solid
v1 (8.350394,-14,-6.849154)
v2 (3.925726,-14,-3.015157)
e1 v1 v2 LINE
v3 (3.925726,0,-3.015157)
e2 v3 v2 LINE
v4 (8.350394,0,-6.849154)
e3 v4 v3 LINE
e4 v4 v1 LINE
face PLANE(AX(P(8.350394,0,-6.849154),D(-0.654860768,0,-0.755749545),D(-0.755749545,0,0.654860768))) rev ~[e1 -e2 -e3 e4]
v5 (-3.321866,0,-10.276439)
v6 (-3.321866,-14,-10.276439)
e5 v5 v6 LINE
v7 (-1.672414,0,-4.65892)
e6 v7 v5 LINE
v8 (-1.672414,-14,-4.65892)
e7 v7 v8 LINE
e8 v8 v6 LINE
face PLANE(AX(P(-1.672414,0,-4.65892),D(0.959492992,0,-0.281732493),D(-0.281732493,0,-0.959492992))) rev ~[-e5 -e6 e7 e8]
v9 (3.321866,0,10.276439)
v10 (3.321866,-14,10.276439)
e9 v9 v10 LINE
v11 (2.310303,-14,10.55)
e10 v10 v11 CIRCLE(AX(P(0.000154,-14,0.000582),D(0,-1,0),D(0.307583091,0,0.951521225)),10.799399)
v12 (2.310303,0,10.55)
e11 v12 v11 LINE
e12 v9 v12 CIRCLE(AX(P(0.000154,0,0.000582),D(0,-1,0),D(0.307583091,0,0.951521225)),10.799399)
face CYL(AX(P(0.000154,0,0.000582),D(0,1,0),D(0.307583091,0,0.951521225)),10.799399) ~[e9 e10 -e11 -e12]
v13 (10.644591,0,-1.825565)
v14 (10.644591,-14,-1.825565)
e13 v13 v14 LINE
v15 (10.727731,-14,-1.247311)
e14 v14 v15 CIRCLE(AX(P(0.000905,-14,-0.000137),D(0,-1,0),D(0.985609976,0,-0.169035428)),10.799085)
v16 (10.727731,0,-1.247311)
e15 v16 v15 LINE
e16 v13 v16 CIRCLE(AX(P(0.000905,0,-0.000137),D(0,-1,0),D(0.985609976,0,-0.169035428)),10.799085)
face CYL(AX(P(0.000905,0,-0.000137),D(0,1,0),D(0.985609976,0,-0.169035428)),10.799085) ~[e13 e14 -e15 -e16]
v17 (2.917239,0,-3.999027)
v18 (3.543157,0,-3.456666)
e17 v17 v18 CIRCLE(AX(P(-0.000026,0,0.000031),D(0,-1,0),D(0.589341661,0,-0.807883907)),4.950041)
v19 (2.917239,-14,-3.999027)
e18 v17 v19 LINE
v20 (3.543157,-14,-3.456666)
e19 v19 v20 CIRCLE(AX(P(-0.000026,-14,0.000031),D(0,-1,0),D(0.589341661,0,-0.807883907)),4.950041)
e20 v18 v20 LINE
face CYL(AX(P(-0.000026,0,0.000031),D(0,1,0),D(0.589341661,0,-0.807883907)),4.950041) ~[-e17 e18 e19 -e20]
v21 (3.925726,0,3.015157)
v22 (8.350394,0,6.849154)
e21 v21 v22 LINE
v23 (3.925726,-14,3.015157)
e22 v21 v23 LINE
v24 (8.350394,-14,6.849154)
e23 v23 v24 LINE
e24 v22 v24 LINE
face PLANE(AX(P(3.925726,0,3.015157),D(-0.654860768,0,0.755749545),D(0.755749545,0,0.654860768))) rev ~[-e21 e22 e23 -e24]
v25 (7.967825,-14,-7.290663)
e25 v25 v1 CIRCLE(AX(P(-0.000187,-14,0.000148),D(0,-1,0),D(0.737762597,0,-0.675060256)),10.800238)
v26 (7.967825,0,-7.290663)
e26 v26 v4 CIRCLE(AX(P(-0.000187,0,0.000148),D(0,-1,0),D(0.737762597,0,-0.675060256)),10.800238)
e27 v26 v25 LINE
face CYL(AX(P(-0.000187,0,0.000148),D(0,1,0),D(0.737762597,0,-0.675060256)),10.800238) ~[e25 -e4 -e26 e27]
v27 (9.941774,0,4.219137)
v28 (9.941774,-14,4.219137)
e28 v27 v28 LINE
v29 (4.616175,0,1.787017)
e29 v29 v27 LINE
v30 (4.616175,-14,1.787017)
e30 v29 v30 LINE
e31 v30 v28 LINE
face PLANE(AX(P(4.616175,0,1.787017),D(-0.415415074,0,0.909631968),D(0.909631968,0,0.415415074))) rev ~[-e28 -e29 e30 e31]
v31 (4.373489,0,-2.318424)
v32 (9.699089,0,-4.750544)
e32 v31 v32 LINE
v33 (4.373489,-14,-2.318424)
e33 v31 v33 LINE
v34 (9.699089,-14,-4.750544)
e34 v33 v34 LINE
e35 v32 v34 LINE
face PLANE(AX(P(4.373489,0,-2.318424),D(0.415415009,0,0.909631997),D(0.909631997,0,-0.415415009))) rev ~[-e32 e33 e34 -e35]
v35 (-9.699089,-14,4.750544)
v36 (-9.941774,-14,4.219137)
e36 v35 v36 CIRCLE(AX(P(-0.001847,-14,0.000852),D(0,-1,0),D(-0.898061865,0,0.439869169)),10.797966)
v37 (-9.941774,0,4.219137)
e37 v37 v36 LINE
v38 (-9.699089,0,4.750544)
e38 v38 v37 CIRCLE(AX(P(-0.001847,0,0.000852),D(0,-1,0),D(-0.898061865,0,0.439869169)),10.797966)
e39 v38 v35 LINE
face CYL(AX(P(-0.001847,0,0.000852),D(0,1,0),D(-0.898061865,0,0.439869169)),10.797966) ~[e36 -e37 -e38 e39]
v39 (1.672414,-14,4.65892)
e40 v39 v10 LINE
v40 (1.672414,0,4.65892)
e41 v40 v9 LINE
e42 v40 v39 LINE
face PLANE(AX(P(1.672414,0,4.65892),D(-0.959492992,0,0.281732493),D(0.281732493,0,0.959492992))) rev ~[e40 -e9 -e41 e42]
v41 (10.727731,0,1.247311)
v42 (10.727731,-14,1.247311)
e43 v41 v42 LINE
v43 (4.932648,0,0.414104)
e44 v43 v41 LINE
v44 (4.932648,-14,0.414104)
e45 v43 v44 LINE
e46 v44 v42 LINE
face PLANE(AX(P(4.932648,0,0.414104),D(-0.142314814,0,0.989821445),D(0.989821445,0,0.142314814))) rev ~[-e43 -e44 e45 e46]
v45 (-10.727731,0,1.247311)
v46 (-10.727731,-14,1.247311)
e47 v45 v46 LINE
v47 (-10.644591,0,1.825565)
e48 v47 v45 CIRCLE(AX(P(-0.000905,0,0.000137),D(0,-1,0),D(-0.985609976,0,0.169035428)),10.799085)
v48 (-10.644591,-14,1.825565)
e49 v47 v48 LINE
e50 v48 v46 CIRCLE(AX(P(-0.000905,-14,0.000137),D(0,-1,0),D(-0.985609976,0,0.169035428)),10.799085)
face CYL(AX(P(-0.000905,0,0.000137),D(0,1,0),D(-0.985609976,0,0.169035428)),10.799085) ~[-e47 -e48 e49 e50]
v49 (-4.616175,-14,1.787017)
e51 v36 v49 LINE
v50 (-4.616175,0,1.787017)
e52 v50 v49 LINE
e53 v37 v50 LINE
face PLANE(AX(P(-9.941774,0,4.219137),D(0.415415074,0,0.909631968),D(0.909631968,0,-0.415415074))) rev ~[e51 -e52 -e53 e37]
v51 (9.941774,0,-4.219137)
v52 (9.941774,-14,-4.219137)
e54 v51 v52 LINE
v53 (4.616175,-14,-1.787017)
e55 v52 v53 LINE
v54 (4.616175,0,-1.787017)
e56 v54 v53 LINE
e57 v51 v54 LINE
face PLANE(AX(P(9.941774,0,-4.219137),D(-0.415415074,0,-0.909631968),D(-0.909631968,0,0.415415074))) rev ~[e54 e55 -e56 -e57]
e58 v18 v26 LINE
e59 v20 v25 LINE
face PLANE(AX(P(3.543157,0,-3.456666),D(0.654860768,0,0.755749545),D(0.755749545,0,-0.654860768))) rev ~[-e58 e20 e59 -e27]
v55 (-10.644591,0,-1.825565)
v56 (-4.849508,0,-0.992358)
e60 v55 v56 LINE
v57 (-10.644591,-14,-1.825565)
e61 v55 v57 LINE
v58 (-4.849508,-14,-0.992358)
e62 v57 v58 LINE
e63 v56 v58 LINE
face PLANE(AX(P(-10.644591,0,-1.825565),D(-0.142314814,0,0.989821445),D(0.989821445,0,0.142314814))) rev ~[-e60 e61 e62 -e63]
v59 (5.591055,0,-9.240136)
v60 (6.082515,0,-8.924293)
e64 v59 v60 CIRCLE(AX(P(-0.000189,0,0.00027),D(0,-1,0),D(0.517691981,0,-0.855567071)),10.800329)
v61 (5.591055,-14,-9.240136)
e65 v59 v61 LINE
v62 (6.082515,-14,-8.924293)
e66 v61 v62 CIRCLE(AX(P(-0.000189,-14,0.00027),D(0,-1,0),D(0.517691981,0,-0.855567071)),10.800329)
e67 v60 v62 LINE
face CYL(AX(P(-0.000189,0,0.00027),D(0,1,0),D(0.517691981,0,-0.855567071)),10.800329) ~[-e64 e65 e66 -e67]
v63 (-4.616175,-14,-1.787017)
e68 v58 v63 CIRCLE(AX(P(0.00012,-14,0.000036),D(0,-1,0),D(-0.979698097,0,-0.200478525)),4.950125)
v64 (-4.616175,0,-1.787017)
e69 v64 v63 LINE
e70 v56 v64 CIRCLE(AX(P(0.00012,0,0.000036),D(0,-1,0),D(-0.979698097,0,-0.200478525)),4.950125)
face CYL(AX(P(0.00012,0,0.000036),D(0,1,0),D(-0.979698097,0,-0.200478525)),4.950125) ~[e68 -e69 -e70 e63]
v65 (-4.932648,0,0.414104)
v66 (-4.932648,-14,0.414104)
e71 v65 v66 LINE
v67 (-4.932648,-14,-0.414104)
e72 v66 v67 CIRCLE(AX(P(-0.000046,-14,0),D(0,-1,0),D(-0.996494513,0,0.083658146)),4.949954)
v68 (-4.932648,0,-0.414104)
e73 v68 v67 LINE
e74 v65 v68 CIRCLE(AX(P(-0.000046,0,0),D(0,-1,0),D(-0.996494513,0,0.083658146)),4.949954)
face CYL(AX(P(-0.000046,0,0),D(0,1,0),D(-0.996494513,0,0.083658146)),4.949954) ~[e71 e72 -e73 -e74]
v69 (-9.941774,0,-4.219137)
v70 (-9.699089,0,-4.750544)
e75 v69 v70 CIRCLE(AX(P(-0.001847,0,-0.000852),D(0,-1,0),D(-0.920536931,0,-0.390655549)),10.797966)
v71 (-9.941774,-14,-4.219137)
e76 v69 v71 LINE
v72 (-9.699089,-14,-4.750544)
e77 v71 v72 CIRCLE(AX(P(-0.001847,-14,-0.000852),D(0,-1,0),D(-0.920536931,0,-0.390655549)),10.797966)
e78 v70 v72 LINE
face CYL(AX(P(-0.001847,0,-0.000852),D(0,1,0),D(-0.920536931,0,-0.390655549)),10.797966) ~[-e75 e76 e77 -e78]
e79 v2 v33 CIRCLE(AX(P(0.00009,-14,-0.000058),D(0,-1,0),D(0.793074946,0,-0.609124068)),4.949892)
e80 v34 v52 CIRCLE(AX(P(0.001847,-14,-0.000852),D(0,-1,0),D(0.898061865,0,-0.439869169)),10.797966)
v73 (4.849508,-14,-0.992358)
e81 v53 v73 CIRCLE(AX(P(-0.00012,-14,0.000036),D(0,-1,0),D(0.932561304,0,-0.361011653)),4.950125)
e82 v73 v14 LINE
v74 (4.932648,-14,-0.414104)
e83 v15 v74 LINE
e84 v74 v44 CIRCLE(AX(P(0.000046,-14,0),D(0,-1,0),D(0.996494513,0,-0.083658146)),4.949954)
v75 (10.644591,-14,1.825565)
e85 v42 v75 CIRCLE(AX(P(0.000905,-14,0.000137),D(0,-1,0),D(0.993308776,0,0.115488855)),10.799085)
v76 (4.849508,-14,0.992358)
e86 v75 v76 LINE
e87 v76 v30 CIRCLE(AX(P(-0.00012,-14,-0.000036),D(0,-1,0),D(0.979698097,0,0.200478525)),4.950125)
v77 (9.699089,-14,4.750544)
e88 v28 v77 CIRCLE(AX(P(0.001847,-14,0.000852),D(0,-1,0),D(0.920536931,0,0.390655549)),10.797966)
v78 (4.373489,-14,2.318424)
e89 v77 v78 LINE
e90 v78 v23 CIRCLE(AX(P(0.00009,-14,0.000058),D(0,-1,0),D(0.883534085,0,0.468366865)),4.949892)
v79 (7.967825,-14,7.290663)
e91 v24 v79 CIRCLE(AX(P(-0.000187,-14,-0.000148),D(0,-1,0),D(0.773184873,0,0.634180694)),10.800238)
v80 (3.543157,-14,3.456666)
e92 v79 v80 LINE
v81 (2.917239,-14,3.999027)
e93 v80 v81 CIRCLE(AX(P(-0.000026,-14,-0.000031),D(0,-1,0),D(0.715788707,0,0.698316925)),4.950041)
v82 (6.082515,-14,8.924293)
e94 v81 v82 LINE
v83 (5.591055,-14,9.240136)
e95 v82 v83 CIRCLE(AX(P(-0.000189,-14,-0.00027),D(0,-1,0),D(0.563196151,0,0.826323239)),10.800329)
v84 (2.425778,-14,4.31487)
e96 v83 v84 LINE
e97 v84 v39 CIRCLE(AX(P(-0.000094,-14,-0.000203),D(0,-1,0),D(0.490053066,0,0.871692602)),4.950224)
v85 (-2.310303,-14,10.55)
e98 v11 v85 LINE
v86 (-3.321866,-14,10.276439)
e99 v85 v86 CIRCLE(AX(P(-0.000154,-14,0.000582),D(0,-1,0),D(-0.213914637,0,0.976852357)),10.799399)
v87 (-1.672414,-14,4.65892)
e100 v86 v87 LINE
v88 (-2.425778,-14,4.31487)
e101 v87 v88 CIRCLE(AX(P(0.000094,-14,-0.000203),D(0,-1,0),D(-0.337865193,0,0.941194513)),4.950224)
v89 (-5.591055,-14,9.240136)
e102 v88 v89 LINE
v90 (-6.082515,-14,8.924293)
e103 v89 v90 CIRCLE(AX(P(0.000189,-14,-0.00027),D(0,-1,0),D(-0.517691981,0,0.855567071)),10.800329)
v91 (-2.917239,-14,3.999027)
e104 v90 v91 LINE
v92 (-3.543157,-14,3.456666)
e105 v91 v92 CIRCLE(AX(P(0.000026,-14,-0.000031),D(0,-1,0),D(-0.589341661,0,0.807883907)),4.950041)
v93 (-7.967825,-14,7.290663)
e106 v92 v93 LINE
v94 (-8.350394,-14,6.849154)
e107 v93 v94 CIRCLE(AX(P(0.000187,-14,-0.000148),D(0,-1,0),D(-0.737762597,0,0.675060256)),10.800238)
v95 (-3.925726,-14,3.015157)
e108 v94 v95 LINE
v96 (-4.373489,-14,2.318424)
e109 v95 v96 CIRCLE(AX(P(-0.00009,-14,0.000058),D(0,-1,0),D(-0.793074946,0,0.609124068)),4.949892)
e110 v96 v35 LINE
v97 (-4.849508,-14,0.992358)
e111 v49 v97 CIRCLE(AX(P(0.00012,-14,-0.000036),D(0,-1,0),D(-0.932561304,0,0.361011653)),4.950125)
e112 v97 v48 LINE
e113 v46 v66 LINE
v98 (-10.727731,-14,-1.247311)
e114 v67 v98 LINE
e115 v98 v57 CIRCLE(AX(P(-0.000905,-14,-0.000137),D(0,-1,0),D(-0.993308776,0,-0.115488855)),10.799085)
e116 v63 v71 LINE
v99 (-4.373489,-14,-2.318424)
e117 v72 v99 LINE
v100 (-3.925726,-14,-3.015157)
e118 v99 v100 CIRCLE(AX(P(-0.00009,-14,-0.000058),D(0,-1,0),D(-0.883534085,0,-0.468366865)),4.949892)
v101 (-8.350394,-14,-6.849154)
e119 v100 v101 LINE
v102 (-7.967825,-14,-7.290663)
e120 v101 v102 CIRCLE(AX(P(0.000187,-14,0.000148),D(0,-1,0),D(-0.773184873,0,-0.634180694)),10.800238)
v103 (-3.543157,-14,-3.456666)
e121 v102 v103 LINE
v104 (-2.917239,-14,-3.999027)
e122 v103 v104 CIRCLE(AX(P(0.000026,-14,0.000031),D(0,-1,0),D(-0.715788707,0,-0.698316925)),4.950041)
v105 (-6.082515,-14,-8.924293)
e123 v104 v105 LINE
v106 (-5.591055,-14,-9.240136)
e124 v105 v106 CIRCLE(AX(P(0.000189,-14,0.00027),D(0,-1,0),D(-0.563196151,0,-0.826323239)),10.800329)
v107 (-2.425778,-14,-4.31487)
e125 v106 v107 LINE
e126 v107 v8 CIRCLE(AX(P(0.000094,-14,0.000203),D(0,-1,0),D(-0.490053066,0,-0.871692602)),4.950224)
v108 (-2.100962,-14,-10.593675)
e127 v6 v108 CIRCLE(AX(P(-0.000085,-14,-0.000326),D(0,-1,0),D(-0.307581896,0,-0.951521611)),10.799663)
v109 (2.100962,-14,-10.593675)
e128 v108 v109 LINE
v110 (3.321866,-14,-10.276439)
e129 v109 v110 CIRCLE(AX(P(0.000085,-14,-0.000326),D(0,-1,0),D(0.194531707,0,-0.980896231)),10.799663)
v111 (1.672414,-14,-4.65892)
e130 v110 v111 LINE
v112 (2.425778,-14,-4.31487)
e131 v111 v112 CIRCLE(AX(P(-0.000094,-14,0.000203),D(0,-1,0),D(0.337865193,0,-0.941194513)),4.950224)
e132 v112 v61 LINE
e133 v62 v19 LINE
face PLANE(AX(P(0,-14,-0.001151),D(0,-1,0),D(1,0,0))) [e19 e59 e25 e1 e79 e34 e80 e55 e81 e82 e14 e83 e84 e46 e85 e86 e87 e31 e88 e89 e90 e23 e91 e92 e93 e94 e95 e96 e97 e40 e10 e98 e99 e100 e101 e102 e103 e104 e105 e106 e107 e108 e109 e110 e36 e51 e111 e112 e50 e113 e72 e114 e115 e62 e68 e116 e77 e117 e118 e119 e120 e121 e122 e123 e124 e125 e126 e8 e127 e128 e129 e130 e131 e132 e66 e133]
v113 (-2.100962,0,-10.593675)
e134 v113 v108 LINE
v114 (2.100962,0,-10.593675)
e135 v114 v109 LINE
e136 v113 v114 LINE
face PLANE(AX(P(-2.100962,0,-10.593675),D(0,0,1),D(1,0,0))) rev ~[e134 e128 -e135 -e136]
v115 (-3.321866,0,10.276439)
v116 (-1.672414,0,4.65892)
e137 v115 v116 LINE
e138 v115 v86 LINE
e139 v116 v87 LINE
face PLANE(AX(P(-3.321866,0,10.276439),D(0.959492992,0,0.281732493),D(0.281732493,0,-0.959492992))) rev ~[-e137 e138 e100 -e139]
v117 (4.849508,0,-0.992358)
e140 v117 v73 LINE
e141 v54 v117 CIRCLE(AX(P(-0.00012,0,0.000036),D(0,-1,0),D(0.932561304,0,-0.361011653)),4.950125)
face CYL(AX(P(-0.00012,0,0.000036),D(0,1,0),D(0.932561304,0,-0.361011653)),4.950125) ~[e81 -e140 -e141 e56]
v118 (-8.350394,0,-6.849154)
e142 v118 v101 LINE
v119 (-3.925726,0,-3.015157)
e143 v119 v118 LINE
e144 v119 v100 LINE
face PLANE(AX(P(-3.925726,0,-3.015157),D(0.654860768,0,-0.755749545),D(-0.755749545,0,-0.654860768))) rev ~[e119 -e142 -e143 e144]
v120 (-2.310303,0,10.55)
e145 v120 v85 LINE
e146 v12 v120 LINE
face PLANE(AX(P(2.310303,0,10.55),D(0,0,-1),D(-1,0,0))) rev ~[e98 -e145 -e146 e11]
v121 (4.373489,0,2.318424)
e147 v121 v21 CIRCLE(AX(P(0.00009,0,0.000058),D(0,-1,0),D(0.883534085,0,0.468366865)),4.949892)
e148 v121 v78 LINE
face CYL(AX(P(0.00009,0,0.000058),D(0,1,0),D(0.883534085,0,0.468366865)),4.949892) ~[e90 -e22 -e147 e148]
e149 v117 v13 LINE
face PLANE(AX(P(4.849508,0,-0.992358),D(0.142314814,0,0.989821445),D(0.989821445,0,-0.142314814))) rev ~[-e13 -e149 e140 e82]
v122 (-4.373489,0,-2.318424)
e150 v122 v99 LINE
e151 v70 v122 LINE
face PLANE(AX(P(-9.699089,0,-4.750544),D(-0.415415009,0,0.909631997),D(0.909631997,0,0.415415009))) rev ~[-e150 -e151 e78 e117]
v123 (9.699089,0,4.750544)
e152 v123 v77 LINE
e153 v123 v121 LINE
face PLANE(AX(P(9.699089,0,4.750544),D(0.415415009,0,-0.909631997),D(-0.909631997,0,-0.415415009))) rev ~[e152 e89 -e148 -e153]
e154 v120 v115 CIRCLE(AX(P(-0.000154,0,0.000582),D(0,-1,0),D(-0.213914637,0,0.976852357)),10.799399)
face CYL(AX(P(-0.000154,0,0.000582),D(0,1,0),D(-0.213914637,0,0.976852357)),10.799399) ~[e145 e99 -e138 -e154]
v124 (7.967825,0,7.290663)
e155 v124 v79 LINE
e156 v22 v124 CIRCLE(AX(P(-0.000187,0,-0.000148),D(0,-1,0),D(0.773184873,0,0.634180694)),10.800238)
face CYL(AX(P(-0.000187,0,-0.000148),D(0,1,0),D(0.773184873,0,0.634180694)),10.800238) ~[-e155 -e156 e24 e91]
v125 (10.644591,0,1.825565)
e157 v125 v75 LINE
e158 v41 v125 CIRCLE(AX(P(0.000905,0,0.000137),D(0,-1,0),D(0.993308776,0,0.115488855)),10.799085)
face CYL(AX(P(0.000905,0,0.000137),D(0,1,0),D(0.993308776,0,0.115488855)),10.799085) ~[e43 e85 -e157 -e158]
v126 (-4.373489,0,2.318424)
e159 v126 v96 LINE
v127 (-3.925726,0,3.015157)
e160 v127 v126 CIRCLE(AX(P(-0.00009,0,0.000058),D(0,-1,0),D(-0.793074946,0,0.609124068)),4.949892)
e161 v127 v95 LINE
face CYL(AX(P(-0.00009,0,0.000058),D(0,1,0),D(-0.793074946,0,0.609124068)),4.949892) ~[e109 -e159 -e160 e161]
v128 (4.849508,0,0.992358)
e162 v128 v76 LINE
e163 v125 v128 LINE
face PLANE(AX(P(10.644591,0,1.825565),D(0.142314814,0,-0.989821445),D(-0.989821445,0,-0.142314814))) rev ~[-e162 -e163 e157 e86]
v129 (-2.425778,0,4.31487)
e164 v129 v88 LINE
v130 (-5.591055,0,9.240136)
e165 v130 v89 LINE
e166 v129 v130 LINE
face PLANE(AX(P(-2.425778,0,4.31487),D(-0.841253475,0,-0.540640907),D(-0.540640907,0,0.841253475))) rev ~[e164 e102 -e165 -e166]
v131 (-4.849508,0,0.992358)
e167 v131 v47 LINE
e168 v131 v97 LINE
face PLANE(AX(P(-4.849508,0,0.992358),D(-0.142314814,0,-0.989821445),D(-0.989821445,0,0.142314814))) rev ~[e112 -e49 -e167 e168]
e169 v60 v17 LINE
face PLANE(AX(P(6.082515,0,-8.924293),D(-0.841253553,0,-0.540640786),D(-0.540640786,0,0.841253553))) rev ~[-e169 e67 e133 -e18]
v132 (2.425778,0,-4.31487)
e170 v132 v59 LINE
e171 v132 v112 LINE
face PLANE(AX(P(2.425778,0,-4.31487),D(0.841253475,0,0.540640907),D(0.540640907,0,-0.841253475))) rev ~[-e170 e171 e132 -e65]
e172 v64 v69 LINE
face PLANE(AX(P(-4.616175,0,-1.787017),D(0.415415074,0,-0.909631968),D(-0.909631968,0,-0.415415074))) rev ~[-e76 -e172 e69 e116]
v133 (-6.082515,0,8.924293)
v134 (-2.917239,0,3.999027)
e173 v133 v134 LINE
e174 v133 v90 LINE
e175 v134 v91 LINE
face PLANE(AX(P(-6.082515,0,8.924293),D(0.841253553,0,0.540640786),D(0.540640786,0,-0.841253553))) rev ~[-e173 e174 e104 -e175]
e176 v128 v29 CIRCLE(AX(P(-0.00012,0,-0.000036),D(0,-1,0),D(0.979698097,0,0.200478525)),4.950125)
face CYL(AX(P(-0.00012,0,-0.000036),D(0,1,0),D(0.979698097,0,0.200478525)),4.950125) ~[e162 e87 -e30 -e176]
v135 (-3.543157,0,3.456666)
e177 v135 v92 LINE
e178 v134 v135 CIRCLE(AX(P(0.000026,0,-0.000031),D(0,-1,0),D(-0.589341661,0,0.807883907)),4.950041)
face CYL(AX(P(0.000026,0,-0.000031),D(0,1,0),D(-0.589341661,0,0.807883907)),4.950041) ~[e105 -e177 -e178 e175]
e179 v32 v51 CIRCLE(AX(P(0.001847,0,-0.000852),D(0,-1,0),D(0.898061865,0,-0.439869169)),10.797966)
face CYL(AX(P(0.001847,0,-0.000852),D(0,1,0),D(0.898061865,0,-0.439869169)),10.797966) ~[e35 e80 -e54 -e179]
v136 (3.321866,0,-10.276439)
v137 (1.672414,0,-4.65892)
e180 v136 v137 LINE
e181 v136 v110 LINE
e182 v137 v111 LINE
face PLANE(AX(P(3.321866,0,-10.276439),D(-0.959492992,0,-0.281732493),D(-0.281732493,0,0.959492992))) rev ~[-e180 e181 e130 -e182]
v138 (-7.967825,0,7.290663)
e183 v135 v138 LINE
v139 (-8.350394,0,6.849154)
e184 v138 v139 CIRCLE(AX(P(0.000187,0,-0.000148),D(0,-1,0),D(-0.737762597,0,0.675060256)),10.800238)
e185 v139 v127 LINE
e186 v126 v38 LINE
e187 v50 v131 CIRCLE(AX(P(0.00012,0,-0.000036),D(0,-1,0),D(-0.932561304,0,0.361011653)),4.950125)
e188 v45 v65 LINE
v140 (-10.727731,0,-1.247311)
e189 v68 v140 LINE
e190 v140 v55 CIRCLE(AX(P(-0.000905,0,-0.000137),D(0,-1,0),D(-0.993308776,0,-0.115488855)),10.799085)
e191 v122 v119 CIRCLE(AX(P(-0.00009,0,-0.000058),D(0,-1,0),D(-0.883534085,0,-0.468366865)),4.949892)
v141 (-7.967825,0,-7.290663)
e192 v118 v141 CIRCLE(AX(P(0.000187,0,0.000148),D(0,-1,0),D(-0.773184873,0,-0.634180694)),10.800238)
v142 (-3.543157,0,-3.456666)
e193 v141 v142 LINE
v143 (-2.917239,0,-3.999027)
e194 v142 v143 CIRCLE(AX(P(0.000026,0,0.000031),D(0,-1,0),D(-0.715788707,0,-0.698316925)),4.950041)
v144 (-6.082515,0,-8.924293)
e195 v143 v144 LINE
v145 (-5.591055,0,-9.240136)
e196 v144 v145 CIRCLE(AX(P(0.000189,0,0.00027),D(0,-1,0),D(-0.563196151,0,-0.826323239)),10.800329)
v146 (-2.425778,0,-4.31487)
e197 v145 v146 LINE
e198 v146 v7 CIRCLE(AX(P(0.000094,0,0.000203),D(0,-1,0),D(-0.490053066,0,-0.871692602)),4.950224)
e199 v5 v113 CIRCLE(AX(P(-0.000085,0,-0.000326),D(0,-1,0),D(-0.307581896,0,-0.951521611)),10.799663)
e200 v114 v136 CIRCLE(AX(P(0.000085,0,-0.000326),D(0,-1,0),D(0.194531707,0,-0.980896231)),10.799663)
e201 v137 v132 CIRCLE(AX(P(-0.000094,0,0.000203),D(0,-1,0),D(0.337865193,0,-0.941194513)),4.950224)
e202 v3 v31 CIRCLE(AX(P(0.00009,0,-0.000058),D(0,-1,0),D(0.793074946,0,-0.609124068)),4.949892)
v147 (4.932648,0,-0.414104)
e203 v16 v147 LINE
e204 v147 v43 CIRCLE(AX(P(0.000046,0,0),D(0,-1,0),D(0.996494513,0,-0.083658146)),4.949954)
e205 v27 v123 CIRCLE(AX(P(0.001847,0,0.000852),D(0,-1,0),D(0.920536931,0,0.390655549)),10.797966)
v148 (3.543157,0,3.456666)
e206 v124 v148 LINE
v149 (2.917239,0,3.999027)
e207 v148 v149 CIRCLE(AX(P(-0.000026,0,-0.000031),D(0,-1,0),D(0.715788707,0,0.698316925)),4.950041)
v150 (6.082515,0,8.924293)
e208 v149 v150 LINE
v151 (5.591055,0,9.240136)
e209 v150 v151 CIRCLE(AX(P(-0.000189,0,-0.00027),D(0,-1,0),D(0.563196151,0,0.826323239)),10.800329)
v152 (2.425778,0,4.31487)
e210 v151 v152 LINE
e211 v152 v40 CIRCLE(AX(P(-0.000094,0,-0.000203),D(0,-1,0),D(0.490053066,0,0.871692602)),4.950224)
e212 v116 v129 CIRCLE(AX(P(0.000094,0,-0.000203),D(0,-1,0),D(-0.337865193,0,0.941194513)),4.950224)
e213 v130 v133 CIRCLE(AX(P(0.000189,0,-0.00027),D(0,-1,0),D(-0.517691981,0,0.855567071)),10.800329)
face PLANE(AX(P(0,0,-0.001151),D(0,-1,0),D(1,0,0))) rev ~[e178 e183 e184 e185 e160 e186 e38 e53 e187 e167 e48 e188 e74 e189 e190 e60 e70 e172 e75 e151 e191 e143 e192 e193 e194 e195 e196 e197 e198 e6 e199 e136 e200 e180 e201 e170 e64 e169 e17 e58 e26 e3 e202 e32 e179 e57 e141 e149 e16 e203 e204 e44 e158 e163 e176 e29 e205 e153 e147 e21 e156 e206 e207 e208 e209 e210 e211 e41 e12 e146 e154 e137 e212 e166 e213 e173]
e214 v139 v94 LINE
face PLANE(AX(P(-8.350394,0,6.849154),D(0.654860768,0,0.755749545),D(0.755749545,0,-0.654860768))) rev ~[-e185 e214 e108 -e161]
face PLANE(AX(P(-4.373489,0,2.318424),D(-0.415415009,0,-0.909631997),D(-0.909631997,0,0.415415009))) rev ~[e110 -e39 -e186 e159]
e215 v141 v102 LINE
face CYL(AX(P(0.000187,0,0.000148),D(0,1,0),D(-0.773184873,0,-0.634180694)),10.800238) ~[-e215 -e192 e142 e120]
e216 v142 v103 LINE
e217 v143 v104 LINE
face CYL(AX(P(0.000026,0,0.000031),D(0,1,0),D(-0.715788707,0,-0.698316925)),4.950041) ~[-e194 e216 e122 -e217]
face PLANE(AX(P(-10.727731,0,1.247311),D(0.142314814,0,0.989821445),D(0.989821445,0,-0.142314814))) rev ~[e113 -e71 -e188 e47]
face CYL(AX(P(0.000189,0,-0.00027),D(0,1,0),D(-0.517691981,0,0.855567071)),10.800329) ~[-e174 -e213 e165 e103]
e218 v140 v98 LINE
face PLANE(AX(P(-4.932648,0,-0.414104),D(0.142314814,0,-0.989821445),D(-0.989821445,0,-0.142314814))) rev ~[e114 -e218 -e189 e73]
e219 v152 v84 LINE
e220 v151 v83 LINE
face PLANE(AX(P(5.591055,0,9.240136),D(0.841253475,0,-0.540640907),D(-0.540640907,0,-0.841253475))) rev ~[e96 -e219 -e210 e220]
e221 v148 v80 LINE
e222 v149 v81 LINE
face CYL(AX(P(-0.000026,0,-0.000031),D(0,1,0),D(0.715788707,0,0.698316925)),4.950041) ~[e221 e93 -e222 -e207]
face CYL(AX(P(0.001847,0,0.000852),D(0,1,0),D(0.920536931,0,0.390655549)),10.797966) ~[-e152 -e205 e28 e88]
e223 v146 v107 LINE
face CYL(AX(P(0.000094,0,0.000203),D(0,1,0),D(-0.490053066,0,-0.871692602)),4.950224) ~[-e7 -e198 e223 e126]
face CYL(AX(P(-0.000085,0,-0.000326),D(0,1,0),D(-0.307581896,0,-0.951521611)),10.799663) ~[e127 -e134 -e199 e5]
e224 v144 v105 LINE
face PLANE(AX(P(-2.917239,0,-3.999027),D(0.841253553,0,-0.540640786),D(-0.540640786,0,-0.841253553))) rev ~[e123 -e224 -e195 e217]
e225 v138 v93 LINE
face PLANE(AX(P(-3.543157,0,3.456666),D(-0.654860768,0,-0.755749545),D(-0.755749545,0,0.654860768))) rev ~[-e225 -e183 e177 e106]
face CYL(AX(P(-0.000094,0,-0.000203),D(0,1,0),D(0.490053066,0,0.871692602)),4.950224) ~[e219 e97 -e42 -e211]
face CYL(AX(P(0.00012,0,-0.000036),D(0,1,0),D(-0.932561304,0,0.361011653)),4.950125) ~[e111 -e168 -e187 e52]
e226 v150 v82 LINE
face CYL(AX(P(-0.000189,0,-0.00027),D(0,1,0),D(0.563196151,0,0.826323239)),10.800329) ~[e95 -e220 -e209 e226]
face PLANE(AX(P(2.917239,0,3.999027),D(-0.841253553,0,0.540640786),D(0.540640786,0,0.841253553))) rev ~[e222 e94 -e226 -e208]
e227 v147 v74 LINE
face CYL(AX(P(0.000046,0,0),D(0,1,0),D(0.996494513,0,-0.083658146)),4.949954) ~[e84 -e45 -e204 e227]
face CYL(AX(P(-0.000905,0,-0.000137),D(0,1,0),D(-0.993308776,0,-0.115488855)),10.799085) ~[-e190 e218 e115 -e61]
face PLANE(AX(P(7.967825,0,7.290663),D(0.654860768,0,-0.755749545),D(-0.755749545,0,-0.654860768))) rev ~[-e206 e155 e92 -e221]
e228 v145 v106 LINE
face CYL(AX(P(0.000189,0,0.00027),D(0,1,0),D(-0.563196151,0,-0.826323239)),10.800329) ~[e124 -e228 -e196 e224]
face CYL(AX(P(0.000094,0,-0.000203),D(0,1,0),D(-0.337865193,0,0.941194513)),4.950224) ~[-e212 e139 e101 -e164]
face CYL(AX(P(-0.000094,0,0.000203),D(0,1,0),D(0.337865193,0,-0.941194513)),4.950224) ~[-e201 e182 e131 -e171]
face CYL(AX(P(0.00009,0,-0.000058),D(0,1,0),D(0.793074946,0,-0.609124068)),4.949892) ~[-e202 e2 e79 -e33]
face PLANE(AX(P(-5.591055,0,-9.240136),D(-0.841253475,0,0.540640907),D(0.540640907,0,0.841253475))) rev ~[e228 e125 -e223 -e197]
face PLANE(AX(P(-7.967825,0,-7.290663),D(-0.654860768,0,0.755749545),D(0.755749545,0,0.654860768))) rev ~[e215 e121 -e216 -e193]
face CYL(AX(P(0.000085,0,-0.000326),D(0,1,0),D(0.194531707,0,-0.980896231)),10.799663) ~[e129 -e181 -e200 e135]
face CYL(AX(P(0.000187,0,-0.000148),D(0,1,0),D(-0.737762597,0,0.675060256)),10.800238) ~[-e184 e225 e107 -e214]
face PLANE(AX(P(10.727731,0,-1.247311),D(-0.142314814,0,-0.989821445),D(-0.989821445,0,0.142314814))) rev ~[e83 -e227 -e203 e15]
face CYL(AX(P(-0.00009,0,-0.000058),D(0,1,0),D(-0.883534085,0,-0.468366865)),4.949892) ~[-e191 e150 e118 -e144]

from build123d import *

# Parameters (mm, degrees)
F1_DEPTH = 14


with BuildPart() as f1:
    # F0 (on Front) → F1 (new body)
    with BuildSketch(Plane.XZ):
        with BuildLine():
            Line((-2.425778, 4.31487), (-5.591055, 9.240136))
            ThreePointArc((-5.591055, 9.240136), (-5.838921, 9.085538), (-6.082515, 8.924293))
            Line((-6.082515, 8.924293), (-2.917239, 3.999027))
            ThreePointArc((-2.917239, 3.999027), (-3.241561, 3.74096), (-3.543157, 3.456666))
            Line((-3.543157, 3.456666), (-7.967825, 7.290663))
            ThreePointArc((-7.967825, 7.290663), (-8.162095, 7.072496), (-8.350394, 6.849154))
            Line((-8.350394, 6.849154), (-3.925726, 3.015157))
            ThreePointArc((-3.925726, 3.015157), (-4.164205, 2.676172), (-4.373489, 2.318424))
            Line((-4.373489, 2.318424), (-9.699089, 4.750544))
            ThreePointArc((-9.699089, 4.750544), (-9.824026, 4.486482), (-9.941774, 4.219137))
            Line((-9.941774, 4.219137), (-4.616175, 1.787017))
            ThreePointArc((-4.616175, 1.787017), (-4.74949, 1.394576), (-4.849508, 0.992358))
            Line((-4.849508, 0.992358), (-10.644591, 1.825565))
            ThreePointArc((-10.644591, 1.825565), (-10.690072, 1.537), (-10.727731, 1.247311))
            Line((-10.727731, 1.247311), (-4.932648, 0.414104))
            ThreePointArc((-4.932648, 0.414104), (-4.95, 0), (-4.932648, -0.414104))
            Line((-4.932648, -0.414104), (-10.727731, -1.247311))
            ThreePointArc((-10.727731, -1.247311), (-10.690072, -1.537), (-10.644591, -1.825565))
            Line((-10.644591, -1.825565), (-4.849508, -0.992358))
            ThreePointArc((-4.849508, -0.992358), (-4.74949, -1.394576), (-4.616175, -1.787017))
            Line((-4.616175, -1.787017), (-9.941774, -4.219137))
            ThreePointArc((-9.941774, -4.219137), (-9.824026, -4.486482), (-9.699089, -4.750544))
            Line((-9.699089, -4.750544), (-4.373489, -2.318424))
            ThreePointArc((-4.373489, -2.318424), (-4.164205, -2.676172), (-3.925726, -3.015157))
            Line((-3.925726, -3.015157), (-8.350394, -6.849154))
            ThreePointArc((-8.350394, -6.849154), (-8.162095, -7.072496), (-7.967825, -7.290663))
            Line((-7.967825, -7.290663), (-3.543157, -3.456666))
            ThreePointArc((-3.543157, -3.456666), (-3.241561, -3.74096), (-2.917239, -3.999027))
            Line((-2.917239, -3.999027), (-6.082515, -8.924293))
            ThreePointArc((-6.082515, -8.924293), (-5.838921, -9.085538), (-5.591055, -9.240136))
            Line((-5.591055, -9.240136), (-2.425778, -4.31487))
            ThreePointArc((-2.425778, -4.31487), (-2.056304, -4.502678), (-1.672414, -4.65892))
            Line((-1.672414, -4.65892), (-3.321866, -10.276439))
            ThreePointArc((-3.321866, -10.276439), (-2.71605, -10.452898), (-2.100962, -10.593675))
            Line((-2.100962, -10.593675), (2.100962, -10.593675))
            ThreePointArc((2.100962, -10.593675), (2.71605, -10.452898), (3.321866, -10.276439))
            Line((3.321866, -10.276439), (1.672414, -4.65892))
            ThreePointArc((1.672414, -4.65892), (2.056304, -4.502678), (2.425778, -4.31487))
            Line((2.425778, -4.31487), (5.591055, -9.240136))
            ThreePointArc((5.591055, -9.240136), (5.838921, -9.085538), (6.082515, -8.924293))
            Line((6.082515, -8.924293), (2.917239, -3.999027))
            ThreePointArc((2.917239, -3.999027), (3.241561, -3.74096), (3.543157, -3.456666))
            Line((3.543157, -3.456666), (7.967825, -7.290663))
            ThreePointArc((7.967825, -7.290663), (8.162095, -7.072496), (8.350394, -6.849154))
            Line((8.350394, -6.849154), (3.925726, -3.015157))
            ThreePointArc((3.925726, -3.015157), (4.164205, -2.676172), (4.373489, -2.318424))
            Line((4.373489, -2.318424), (9.699089, -4.750544))
            ThreePointArc((9.699089, -4.750544), (9.824026, -4.486482), (9.941774, -4.219137))
            Line((9.941774, -4.219137), (4.616175, -1.787017))
            ThreePointArc((4.616175, -1.787017), (4.74949, -1.394576), (4.849508, -0.992358))
            Line((4.849508, -0.992358), (10.644591, -1.825565))
            ThreePointArc((10.644591, -1.825565), (10.690072, -1.537), (10.727731, -1.247311))
            Line((10.727731, -1.247311), (4.932648, -0.414104))
            ThreePointArc((4.932648, -0.414104), (4.95, 0), (4.932648, 0.414104))
            Line((4.932648, 0.414104), (10.727731, 1.247311))
            ThreePointArc((10.727731, 1.247311), (10.690072, 1.537), (10.644591, 1.825565))
            Line((10.644591, 1.825565), (4.849508, 0.992358))
            ThreePointArc((4.849508, 0.992358), (4.74949, 1.394576), (4.616175, 1.787017))
            Line((4.616175, 1.787017), (9.941774, 4.219137))
            ThreePointArc((9.941774, 4.219137), (9.824026, 4.486482), (9.699089, 4.750544))
            Line((9.699089, 4.750544), (4.373489, 2.318424))
            ThreePointArc((4.373489, 2.318424), (4.164205, 2.676172), (3.925726, 3.015157))
            Line((3.925726, 3.015157), (8.350394, 6.849154))
            ThreePointArc((8.350394, 6.849154), (8.162095, 7.072496), (7.967825, 7.290663))
            Line((7.967825, 7.290663), (3.543157, 3.456666))
            ThreePointArc((3.543157, 3.456666), (3.241561, 3.74096), (2.917239, 3.999027))
            Line((2.917239, 3.999027), (6.082515, 8.924293))
            ThreePointArc((6.082515, 8.924293), (5.838921, 9.085538), (5.591055, 9.240136))
            Line((5.591055, 9.240136), (2.425778, 4.31487))
            ThreePointArc((2.425778, 4.31487), (2.056304, 4.502678), (1.672414, 4.65892))
            Line((1.672414, 4.65892), (3.321866, 10.276439))
            ThreePointArc((3.321866, 10.276439), (2.819405, 10.425496), (2.310303, 10.55))
            Line((2.310303, 10.55), (0, 10.55))
            Line((0, 10.55), (-2.310303, 10.55))
            ThreePointArc((-2.310303, 10.55), (-2.819405, 10.425496), (-3.321866, 10.276439))
            Line((-3.321866, 10.276439), (-1.672414, 4.65892))
            ThreePointArc((-1.672414, 4.65892), (-2.056304, 4.502678), (-2.425778, 4.31487))
        make_face()
    extrude(amount=F1_DEPTH)


solid = f1.part
